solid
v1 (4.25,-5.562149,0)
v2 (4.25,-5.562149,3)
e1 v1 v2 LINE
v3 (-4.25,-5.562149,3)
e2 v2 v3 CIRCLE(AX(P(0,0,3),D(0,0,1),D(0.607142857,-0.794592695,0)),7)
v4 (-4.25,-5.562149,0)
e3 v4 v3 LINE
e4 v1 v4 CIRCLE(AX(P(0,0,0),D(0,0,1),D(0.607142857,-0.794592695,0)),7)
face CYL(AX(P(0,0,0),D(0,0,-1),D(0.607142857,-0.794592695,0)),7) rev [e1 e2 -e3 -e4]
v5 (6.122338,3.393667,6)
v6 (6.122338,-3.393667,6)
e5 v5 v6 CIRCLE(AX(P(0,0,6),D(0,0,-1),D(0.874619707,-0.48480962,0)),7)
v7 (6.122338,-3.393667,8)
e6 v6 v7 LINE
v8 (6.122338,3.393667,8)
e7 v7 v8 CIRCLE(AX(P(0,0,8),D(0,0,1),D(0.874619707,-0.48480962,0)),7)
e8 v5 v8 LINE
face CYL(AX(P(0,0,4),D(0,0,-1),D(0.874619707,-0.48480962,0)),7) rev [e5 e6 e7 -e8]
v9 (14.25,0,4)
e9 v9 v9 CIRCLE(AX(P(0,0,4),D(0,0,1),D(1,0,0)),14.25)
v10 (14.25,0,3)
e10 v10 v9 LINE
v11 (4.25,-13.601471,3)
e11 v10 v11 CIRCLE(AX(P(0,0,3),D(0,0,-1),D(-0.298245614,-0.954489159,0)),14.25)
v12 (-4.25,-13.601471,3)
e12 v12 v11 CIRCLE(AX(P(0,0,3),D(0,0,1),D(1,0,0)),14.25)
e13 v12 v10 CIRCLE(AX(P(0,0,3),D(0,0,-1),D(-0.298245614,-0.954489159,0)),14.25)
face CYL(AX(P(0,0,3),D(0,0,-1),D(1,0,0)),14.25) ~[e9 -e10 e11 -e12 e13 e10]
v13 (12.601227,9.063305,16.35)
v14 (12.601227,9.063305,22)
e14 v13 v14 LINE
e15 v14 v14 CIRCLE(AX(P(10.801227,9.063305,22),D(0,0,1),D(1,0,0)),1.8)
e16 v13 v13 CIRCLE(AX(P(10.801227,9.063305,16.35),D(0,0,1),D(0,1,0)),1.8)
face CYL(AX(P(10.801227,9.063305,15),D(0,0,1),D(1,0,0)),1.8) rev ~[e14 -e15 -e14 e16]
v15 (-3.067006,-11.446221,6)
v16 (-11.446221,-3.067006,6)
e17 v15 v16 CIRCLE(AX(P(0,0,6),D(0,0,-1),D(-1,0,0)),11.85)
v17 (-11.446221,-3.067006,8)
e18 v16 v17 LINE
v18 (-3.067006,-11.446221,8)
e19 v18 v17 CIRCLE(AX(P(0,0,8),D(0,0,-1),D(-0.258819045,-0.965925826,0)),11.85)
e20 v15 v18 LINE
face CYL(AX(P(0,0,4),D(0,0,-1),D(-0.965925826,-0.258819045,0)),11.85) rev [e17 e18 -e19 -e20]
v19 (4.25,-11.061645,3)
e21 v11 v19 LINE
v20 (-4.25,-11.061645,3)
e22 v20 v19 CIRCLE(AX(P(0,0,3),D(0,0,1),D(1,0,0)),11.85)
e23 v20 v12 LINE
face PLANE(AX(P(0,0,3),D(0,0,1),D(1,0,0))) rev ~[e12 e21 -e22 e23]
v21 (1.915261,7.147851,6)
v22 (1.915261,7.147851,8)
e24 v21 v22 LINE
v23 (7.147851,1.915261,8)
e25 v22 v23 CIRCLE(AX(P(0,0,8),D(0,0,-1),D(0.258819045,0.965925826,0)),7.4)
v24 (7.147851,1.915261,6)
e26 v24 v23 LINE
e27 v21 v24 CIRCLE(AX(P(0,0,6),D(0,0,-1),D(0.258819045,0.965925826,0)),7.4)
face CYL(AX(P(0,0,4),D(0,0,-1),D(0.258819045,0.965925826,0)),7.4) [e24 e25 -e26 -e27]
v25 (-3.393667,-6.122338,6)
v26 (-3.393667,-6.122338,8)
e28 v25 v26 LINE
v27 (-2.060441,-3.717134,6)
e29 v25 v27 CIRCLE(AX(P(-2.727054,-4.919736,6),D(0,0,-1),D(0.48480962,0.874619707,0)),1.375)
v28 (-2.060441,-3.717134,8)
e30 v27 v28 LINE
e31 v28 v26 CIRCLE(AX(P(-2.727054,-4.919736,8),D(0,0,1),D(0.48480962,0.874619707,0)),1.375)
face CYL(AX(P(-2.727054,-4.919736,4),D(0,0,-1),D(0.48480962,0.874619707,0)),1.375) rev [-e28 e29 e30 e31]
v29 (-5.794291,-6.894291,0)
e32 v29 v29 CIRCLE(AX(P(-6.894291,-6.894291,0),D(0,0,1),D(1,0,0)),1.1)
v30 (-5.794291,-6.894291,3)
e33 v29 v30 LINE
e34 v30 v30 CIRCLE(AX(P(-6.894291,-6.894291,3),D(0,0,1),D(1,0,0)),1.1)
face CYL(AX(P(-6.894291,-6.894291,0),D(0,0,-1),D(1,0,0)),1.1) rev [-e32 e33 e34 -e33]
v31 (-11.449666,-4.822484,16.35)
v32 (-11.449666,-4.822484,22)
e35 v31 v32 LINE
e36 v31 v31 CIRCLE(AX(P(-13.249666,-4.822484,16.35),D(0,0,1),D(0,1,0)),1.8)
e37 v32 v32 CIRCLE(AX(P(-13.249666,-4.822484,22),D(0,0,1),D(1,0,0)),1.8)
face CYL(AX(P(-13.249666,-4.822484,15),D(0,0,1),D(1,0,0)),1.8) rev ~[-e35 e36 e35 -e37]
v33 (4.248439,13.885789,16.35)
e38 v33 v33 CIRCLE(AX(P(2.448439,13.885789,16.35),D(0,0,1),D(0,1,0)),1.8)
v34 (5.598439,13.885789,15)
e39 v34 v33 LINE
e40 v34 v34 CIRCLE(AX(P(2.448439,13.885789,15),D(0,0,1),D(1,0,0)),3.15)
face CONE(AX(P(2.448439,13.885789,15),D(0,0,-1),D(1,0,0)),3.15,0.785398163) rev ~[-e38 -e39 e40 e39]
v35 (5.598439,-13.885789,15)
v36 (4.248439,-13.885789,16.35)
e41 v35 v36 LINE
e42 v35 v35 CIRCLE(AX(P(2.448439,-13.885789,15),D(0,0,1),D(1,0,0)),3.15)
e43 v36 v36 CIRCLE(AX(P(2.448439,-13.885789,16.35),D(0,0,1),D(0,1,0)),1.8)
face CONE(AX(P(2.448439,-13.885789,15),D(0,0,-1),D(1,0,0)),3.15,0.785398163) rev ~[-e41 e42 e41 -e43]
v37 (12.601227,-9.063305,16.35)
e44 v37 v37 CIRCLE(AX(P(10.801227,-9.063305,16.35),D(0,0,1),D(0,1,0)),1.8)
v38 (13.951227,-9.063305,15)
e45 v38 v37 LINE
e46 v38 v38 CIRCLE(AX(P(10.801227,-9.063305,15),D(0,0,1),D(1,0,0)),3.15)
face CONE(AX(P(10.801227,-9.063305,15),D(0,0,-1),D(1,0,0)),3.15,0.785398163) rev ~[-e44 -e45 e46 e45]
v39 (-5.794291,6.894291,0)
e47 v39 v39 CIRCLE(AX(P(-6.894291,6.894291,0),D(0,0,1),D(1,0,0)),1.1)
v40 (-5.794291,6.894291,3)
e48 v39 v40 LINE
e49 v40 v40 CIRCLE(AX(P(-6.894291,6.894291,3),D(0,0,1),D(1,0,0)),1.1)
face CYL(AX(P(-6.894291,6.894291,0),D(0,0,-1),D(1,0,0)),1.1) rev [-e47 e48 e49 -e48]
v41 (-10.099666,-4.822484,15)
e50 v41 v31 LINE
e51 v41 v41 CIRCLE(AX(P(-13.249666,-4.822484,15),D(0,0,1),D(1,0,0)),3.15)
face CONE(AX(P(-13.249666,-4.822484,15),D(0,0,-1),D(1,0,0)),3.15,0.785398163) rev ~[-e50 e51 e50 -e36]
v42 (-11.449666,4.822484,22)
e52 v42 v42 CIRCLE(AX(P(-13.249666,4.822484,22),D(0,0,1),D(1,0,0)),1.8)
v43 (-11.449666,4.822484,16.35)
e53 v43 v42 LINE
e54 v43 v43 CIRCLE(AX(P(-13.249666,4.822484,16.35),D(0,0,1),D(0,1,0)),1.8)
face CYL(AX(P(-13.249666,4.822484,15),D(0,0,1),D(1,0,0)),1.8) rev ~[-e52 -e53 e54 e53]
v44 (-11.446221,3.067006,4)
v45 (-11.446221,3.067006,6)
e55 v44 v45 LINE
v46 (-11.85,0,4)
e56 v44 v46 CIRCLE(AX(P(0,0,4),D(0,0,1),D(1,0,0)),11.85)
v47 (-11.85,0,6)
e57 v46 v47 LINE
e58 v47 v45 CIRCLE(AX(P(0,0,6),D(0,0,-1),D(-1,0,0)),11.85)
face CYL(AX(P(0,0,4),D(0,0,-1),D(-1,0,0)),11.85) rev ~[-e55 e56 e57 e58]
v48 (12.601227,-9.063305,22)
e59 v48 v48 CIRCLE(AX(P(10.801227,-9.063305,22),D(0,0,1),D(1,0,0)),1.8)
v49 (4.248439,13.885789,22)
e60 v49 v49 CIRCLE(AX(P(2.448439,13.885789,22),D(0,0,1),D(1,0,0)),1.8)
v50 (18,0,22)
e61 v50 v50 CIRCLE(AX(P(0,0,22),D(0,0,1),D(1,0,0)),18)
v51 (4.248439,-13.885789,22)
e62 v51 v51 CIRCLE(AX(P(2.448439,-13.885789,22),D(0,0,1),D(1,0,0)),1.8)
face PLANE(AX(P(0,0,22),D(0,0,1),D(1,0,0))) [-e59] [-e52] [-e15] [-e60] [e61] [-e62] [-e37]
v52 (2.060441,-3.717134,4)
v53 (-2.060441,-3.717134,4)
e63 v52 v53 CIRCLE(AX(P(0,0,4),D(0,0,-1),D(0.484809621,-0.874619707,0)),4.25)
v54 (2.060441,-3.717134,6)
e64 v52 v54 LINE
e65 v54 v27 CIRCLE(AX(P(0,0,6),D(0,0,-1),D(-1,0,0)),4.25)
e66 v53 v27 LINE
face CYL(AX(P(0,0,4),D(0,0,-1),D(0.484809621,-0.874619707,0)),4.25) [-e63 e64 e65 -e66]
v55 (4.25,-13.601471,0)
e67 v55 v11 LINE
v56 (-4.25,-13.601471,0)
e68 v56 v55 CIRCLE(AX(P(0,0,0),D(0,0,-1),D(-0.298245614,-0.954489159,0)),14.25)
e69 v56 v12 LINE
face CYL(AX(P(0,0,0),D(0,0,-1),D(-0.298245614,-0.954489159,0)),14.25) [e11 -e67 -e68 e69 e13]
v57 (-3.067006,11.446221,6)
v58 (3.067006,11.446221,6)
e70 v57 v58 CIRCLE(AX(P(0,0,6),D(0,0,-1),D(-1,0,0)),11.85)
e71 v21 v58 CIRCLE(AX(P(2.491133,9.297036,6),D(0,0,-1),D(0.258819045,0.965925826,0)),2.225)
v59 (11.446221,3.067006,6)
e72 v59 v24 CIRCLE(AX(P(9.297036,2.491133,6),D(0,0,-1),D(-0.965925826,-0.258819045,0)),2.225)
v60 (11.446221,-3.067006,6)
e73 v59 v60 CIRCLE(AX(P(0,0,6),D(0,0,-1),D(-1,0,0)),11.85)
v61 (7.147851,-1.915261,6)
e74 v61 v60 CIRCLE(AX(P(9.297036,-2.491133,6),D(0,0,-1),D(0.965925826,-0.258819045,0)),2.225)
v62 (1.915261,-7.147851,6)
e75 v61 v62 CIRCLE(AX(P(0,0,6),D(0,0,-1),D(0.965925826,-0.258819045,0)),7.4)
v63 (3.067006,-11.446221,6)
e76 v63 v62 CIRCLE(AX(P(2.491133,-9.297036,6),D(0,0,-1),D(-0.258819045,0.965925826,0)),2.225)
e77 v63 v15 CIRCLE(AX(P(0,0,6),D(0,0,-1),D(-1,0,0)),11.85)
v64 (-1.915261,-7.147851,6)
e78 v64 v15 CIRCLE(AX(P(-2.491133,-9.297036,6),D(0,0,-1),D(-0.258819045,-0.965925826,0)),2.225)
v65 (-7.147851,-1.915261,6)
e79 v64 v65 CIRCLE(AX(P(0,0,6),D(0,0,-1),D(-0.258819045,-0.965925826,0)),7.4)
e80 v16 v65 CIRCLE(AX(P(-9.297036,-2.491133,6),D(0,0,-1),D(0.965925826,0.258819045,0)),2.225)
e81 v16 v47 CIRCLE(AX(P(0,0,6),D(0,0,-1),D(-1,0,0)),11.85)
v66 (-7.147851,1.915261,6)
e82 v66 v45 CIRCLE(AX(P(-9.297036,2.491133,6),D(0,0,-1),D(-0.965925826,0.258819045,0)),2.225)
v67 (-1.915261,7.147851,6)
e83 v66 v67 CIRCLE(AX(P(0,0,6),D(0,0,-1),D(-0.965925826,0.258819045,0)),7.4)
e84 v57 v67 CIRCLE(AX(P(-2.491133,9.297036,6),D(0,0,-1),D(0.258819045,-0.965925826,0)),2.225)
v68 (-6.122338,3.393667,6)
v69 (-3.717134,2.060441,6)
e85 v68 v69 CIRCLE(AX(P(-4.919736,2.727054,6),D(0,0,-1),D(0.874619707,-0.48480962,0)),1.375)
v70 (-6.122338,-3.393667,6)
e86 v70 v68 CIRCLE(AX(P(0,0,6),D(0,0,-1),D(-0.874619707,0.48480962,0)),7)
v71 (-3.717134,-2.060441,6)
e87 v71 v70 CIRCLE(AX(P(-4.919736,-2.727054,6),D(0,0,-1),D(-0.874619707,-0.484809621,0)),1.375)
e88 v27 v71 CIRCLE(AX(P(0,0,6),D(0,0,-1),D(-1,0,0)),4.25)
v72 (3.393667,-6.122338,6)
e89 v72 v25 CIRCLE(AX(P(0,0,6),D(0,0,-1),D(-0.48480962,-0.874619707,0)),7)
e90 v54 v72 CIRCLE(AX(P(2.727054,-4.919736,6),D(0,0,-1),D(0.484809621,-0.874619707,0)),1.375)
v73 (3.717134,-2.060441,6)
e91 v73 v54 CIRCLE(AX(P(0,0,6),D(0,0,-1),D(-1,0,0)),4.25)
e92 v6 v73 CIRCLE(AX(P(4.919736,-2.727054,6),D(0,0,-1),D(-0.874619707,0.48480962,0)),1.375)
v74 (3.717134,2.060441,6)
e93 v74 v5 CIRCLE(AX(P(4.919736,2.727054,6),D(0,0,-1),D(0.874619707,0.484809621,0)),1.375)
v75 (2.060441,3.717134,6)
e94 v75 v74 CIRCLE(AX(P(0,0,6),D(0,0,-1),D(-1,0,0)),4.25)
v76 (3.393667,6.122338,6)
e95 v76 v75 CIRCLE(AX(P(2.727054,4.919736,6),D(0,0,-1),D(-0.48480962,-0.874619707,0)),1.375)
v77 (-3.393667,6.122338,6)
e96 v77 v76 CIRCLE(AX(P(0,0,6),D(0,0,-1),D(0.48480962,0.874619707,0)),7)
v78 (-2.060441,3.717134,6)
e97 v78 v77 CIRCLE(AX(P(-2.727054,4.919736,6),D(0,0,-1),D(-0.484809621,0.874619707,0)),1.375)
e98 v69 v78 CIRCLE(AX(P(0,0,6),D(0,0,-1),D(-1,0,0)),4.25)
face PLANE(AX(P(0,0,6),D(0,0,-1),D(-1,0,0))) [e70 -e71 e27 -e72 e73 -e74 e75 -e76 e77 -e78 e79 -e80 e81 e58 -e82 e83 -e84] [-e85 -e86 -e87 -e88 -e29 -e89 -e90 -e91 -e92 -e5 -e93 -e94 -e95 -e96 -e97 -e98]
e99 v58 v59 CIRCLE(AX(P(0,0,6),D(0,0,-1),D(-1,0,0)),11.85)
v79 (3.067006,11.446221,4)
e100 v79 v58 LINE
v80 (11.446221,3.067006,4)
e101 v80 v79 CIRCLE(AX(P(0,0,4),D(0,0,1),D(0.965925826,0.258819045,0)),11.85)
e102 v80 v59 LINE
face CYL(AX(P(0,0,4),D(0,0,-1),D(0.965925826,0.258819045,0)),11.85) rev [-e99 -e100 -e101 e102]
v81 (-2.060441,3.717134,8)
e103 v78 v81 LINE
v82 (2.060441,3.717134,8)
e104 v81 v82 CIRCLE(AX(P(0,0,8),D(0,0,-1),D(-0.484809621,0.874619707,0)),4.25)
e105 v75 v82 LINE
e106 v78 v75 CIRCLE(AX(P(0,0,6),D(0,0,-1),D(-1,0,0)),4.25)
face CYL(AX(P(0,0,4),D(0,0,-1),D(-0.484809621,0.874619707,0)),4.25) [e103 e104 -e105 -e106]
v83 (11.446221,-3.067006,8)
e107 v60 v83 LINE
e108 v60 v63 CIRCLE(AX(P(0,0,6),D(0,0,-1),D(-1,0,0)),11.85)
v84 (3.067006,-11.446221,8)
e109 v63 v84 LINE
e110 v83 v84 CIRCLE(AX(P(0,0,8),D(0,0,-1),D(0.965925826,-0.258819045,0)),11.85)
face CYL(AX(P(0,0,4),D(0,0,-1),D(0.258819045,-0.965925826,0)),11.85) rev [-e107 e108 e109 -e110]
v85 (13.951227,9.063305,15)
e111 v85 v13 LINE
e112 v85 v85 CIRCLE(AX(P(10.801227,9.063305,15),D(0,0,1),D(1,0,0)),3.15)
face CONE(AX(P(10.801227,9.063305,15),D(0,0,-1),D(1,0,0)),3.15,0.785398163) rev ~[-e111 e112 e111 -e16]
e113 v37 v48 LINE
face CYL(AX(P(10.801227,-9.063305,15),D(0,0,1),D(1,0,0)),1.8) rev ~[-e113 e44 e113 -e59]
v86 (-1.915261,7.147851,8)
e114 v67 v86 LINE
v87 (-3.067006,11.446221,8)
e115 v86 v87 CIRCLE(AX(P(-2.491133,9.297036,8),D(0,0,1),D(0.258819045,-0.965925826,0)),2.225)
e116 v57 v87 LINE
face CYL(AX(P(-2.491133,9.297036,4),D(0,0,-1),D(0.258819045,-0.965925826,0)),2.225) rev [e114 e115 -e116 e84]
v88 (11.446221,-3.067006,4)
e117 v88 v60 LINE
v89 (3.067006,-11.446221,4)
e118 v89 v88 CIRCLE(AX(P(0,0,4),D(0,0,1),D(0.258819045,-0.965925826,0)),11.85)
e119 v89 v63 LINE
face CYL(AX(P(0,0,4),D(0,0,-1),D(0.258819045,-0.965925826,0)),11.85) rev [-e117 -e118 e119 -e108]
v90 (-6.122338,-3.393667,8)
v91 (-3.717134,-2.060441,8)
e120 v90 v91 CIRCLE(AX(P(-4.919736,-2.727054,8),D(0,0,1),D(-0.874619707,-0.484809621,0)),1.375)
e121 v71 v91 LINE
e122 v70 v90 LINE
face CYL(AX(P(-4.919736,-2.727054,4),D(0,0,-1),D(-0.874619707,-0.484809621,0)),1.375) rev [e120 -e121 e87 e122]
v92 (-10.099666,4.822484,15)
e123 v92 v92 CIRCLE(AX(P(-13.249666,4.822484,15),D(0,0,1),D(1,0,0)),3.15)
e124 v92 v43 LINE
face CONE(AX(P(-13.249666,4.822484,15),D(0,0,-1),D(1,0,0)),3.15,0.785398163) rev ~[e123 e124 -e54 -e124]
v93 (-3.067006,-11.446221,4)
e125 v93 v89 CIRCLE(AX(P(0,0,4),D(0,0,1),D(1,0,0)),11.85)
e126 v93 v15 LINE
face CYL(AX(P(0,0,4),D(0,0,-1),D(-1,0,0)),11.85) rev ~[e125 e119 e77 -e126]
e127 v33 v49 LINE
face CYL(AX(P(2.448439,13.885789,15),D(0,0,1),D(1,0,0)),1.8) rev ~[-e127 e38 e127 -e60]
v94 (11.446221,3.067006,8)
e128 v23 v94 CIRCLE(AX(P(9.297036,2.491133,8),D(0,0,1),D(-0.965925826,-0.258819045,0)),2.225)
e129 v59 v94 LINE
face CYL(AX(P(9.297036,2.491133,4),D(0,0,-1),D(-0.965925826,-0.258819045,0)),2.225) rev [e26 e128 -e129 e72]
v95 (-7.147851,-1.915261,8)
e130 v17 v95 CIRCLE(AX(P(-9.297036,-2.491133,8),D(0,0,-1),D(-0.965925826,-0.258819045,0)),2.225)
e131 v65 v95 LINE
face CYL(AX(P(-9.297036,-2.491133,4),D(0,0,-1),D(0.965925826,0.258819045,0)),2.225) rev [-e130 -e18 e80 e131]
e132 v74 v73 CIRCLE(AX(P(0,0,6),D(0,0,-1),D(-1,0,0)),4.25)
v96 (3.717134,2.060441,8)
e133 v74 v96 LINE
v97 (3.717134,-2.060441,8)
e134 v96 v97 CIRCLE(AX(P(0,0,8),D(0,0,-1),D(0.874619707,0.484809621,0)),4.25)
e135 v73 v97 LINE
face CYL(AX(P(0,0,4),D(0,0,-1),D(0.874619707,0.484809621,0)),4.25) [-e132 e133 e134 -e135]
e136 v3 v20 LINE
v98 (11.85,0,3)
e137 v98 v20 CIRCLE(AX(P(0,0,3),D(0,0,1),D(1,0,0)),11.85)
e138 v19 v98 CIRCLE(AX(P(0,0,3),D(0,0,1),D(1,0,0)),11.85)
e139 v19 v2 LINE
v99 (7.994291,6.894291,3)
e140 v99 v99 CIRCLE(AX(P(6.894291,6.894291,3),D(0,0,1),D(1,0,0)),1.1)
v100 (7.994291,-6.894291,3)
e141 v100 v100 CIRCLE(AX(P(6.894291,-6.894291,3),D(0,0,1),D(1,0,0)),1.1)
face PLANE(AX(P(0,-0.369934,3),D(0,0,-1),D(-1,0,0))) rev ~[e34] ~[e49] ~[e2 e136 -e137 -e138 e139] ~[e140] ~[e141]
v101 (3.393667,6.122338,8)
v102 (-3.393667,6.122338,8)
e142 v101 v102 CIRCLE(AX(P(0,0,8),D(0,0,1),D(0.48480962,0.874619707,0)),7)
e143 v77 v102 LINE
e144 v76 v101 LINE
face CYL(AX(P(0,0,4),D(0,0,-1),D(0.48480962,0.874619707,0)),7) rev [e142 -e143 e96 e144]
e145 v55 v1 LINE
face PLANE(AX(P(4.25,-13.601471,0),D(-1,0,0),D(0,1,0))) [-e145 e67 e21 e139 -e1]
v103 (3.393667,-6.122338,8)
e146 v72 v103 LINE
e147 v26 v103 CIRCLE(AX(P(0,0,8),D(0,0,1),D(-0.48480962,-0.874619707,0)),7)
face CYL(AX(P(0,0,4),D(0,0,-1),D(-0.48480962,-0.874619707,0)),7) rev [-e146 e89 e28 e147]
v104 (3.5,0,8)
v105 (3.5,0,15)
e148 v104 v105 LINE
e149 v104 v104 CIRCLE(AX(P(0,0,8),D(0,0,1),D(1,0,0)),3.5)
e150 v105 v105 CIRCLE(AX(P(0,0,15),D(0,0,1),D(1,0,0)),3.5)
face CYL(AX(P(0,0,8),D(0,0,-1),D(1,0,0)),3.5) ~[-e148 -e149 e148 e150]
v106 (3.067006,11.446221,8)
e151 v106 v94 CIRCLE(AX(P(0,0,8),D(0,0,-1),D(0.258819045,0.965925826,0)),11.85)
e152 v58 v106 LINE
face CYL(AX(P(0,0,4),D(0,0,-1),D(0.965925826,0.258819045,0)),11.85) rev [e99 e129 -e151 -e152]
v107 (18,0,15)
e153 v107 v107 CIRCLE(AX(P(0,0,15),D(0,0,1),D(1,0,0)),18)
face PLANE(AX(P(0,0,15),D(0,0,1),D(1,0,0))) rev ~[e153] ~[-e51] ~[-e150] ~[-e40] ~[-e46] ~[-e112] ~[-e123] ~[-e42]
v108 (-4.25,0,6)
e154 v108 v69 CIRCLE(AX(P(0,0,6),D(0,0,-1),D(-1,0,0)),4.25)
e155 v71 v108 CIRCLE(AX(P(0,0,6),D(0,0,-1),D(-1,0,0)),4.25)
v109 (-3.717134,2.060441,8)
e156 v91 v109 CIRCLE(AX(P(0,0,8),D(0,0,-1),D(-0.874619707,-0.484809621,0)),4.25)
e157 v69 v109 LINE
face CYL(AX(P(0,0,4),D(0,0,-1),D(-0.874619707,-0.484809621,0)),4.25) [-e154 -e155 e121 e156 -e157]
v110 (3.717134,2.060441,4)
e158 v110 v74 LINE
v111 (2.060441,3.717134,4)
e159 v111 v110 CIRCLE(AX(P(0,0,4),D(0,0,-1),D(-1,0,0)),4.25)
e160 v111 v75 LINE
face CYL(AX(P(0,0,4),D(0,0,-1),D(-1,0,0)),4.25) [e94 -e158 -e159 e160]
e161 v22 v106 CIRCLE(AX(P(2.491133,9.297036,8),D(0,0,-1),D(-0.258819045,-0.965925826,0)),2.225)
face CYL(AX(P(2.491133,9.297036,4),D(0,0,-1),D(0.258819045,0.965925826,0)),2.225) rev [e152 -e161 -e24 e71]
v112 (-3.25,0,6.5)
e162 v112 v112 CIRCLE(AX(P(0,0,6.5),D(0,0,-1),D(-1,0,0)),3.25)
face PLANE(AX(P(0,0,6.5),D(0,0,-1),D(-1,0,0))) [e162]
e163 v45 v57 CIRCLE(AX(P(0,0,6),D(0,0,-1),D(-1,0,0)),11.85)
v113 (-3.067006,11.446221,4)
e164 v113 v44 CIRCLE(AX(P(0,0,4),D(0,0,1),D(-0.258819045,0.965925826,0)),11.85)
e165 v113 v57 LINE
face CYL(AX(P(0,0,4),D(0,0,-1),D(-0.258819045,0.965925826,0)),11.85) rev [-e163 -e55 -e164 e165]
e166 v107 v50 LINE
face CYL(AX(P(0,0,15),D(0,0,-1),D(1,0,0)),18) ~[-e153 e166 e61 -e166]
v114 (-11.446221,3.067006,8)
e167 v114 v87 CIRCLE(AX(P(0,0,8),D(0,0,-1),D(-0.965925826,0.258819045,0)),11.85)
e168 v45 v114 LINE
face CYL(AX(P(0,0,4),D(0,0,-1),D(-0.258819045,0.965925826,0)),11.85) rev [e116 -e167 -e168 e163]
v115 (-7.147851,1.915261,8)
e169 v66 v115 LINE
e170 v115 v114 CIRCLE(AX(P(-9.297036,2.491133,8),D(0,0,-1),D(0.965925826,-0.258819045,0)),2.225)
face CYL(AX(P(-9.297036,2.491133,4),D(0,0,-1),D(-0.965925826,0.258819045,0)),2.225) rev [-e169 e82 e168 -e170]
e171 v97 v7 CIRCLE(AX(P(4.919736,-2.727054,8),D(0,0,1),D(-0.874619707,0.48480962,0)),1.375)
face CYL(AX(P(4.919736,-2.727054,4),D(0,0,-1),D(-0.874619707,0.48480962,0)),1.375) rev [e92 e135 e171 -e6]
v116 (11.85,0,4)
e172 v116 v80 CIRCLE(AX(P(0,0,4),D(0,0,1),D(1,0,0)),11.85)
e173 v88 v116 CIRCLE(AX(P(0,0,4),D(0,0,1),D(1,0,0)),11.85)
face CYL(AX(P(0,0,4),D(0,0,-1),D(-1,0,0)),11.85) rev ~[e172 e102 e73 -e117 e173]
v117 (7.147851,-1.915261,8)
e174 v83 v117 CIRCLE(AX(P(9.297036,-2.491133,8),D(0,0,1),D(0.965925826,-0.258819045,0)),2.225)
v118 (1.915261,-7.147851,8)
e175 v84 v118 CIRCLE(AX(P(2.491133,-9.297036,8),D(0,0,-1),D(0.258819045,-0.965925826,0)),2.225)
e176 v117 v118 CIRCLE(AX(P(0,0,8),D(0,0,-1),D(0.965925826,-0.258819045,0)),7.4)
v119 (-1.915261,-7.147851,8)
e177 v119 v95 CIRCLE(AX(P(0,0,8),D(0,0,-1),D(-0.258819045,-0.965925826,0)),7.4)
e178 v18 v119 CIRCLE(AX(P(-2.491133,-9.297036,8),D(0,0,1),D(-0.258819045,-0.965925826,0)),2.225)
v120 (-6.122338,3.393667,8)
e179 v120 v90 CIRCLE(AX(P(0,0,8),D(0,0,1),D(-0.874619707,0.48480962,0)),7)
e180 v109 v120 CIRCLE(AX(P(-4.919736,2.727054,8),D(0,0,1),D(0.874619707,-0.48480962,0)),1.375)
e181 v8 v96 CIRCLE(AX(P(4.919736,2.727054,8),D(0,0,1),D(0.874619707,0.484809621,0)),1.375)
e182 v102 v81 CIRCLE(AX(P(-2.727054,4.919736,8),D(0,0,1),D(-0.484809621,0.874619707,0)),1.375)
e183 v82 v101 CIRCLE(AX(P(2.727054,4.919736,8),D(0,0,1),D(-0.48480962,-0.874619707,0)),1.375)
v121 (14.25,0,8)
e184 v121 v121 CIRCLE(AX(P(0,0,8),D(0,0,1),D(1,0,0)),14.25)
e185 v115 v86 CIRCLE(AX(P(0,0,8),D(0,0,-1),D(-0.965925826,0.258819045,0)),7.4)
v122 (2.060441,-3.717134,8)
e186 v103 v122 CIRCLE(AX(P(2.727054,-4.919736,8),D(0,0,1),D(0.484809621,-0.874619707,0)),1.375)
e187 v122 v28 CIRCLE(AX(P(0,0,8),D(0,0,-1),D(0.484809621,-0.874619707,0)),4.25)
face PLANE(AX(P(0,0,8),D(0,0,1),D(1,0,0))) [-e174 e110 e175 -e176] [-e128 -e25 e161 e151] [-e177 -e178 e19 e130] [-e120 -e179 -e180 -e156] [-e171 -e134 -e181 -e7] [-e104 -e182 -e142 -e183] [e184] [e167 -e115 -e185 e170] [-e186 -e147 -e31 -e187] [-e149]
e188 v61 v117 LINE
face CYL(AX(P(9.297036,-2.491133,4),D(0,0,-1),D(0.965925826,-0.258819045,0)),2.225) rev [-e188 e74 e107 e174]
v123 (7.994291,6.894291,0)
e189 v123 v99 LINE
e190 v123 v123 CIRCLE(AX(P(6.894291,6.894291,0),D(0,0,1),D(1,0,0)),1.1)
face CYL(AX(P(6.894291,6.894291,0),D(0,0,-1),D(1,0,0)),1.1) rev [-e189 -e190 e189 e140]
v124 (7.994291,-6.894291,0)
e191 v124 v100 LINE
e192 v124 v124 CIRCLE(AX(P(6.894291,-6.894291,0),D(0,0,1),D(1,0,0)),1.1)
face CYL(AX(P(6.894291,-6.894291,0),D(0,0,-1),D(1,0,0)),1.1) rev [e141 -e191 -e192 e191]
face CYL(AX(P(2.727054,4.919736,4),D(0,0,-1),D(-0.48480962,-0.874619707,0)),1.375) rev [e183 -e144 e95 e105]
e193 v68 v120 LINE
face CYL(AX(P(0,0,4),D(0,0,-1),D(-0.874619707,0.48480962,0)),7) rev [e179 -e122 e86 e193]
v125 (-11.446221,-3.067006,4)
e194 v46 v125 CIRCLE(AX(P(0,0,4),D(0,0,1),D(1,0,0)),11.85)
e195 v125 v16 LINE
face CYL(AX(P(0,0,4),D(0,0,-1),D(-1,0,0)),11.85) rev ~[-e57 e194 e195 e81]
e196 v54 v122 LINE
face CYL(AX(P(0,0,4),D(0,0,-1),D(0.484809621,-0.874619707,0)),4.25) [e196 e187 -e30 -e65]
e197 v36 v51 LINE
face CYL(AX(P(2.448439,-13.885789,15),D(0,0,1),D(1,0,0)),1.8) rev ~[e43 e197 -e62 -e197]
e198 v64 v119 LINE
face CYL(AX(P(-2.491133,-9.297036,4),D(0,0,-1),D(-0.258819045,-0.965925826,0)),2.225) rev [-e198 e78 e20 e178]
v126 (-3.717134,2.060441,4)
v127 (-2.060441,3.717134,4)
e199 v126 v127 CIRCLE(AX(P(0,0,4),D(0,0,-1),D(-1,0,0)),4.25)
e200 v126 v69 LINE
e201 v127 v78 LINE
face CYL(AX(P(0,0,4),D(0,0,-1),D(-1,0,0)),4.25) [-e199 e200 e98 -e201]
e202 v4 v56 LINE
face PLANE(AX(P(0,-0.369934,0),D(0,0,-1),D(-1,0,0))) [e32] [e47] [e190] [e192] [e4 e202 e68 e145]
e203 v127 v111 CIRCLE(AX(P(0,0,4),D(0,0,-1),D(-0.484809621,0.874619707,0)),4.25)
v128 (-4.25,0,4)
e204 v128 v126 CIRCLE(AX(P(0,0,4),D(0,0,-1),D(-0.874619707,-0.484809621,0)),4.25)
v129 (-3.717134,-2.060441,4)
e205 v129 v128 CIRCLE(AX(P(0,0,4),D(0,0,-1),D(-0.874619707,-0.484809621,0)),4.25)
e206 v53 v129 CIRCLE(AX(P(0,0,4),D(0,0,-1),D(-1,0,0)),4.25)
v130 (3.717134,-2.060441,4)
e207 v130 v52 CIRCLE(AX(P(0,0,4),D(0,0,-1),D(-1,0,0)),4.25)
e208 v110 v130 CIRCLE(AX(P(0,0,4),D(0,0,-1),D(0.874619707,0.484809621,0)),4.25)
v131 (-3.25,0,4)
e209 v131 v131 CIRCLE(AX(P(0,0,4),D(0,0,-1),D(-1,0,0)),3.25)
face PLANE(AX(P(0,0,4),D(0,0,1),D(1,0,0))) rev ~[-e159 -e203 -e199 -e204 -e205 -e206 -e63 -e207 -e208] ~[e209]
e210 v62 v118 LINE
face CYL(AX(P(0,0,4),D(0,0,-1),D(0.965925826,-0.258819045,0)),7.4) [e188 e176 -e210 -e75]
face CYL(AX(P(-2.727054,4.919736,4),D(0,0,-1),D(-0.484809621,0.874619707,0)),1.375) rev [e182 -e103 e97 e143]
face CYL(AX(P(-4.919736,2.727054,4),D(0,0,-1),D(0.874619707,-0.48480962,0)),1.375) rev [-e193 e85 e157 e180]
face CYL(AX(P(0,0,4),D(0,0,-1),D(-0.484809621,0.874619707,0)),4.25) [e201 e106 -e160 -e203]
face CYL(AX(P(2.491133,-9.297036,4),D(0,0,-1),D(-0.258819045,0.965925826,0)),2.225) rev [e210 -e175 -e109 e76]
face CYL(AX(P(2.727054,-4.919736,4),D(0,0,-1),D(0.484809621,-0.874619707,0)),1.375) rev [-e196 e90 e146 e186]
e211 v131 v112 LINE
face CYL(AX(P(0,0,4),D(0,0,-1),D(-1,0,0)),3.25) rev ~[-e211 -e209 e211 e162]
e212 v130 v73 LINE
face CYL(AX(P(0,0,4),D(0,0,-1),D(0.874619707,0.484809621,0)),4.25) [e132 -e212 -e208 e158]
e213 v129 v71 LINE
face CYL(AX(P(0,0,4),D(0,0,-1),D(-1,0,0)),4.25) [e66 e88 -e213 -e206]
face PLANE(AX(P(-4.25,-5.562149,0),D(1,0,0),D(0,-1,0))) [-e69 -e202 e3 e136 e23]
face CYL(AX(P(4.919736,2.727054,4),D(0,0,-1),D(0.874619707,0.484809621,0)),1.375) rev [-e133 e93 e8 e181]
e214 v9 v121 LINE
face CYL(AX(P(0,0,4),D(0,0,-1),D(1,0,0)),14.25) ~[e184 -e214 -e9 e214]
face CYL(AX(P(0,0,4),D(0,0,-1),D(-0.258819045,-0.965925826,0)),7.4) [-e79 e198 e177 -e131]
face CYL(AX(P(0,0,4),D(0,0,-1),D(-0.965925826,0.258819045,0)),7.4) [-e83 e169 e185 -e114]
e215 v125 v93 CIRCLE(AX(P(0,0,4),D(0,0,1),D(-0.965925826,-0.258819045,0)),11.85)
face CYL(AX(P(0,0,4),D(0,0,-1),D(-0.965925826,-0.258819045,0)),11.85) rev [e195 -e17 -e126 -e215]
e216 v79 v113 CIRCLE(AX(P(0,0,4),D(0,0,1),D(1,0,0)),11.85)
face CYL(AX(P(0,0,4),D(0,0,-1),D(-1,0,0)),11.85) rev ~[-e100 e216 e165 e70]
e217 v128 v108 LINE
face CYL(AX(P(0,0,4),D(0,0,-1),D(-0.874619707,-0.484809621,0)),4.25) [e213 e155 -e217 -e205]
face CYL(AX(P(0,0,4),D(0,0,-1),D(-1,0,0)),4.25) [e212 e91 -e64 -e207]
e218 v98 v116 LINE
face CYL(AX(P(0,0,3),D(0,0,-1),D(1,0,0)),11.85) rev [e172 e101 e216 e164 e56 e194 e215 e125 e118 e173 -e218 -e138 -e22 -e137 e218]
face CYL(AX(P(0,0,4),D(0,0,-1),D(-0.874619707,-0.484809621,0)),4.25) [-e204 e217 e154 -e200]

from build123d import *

# Parameters (mm, degrees)
SKETCH_1_R                   = 1.1
EXTRUDE_1_DEPTH              = 3
SKETCH_3_R                   = 14.25
SKETCH_3_R_2                 = 11.85
EXTRUDE_2_DEPTH              = 1
SKETCH_4_R                   = 14.25
EXTRUDE_3_DEPTH              = 4
SKETCH_5_R                   = 3.25
CUT_EXTRUDE_2_DEPTH          = 2.5
SKETCH_6_R                   = 3.5
EXTRUDE_4_DEPTH              = 7
SKETCH_10_R                  = 11.85
SKETCH_10_R_2                = 4.25
CUT_EXTRUDE_3_DEPTH          = 2
SKETCH_7_R                   = 18
SKETCH_7_R_2                 = 1.6
EXTRUDE_5_DEPTH              = 7
HOLE_WIZARD_M3_1_D           = 3.6
HOLE_WIZARD_M3_1_DEPTH       = 7
HOLE_WIZARD_M3_1_CSINK_D     = 6.3
HOLE_WIZARD_M3_1_CSINK_ANGLE = 90


with BuildPart() as part:
    # 스케치1 → 보스-돌출1 (new body)
    with BuildSketch(Plane.XY):
        with BuildLine():
            Line((-4.25, -5.562148865), (-4.25, -13.601470509))
            ThreePointArc((-4.25, -13.601470509), (0, 14.25), (4.25, -13.601470509))
            Line((4.25, -13.601470509), (4.25, -5.562148865))
            ThreePointArc((4.25, -5.562148865), (0, 7), (-4.25, -5.562148865))
        make_face()
        with Locations((6.894291117, 6.894291117)):
            Circle(SKETCH_1_R, mode=Mode.SUBTRACT)
        with Locations((6.894291117, -6.894291117)):
            Circle(SKETCH_1_R, mode=Mode.SUBTRACT)
        with Locations((-6.894291117, -6.894291117)):
            Circle(SKETCH_1_R, mode=Mode.SUBTRACT)
        with Locations((-6.894291117, 6.894291117)):
            Circle(SKETCH_1_R, mode=Mode.SUBTRACT)
    extrude(amount=EXTRUDE_1_DEPTH)

    # 스케치3 → 보스-돌출2 (add)
    with BuildSketch(Plane.XY.offset(3)):
        Circle(SKETCH_3_R)
        Circle(SKETCH_3_R_2, mode=Mode.SUBTRACT)
    extrude(amount=EXTRUDE_2_DEPTH)

    # 스케치4 → 보스-돌출3 (add)
    with BuildSketch(Plane.XY.offset(4)):
        Circle(SKETCH_4_R)
        with BuildLine():
            ThreePointArc((11.446221042, 3.067005684), (8.379215357, 8.379215357), (3.067005684, 11.446221042))
            ThreePointArc((3.067005684, 11.446221042), (0.341948346, 9.872908453), (1.915260934, 7.147851115))
            ThreePointArc((1.915260934, 7.147851115), (5.232590181, 5.232590181), (7.147851115, 1.915260934))
            ThreePointArc((7.147851115, 1.915260934), (9.872908453, 0.341948346), (11.446221042, 3.067005684))
        make_face(mode=Mode.SUBTRACT)
        with BuildLine():
            ThreePointArc((3.067005684, -11.446221042), (8.379215357, -8.379215357), (11.446221042, -3.067005684))
            ThreePointArc((11.446221042, -3.067005684), (9.872908453, -0.341948346), (7.147851115, -1.915260934))
            ThreePointArc((7.147851115, -1.915260934), (5.232590181, -5.232590181), (1.915260934, -7.147851115))
            ThreePointArc((1.915260934, -7.147851115), (0.341948346, -9.872908453), (3.067005684, -11.446221042))
        make_face(mode=Mode.SUBTRACT)
        with BuildLine():
            ThreePointArc((-11.446221042, -3.067005684), (-8.379215357, -8.379215357), (-3.067005684, -11.446221042))
            ThreePointArc((-3.067005684, -11.446221042), (-0.341948346, -9.872908453), (-1.915260934, -7.147851115))
            ThreePointArc((-1.915260934, -7.147851115), (-5.232590181, -5.232590181), (-7.147851115, -1.915260934))
            ThreePointArc((-7.147851115, -1.915260934), (-9.872908453, -0.341948346), (-11.446221042, -3.067005684))
        make_face(mode=Mode.SUBTRACT)
        with BuildLine():
            ThreePointArc((-3.067005684, 11.446221042), (-8.379215357, 8.379215357), (-11.446221042, 3.067005684))
            ThreePointArc((-11.446221042, 3.067005684), (-9.872908453, 0.341948346), (-7.147851115, 1.915260934))
            ThreePointArc((-7.147851115, 1.915260934), (-5.232590181, 5.232590181), (-1.915260934, 7.147851115))
            ThreePointArc((-1.915260934, 7.147851115), (-0.341948346, 9.872908453), (-3.067005684, 11.446221042))
        make_face(mode=Mode.SUBTRACT)
        with BuildLine():
            ThreePointArc((3.393667342, 6.12233795), (0, 7), (-3.393667342, 6.12233795))
            ThreePointArc((-3.393667342, 6.12233795), (-3.929656211, 4.253122625), (-2.060440886, 3.717133755))
            ThreePointArc((-2.060440886, 3.717133755), (0, 4.25), (2.060440886, 3.717133755))
            ThreePointArc((2.060440886, 3.717133755), (3.929656211, 4.253122625), (3.393667342, 6.12233795))
        make_face(mode=Mode.SUBTRACT)
        with BuildLine():
            ThreePointArc((6.12233795, -3.393667342), (7, 0), (6.12233795, 3.393667342))
            ThreePointArc((6.12233795, 3.393667342), (4.253122625, 3.929656211), (3.717133755, 2.060440886))
            ThreePointArc((3.717133755, 2.060440886), (4.25, 0), (3.717133755, -2.060440886))
            ThreePointArc((3.717133755, -2.060440886), (4.253122625, -3.929656211), (6.12233795, -3.393667342))
        make_face(mode=Mode.SUBTRACT)
        with BuildLine():
            ThreePointArc((-3.393667342, -6.12233795), (0, -7), (3.393667342, -6.12233795))
            ThreePointArc((3.393667342, -6.12233795), (3.929656211, -4.253122625), (2.060440886, -3.717133755))
            ThreePointArc((2.060440886, -3.717133755), (0, -4.25), (-2.060440886, -3.717133755))
            ThreePointArc((-2.060440886, -3.717133755), (-3.929656211, -4.253122625), (-3.393667342, -6.12233795))
        make_face(mode=Mode.SUBTRACT)
        with BuildLine():
            ThreePointArc((-6.12233795, 3.393667342), (-7, 0), (-6.12233795, -3.393667342))
            ThreePointArc((-6.12233795, -3.393667342), (-4.253122625, -3.929656211), (-3.717133755, -2.060440886))
            ThreePointArc((-3.717133755, -2.060440886), (-4.25, 0), (-3.717133755, 2.060440886))
            ThreePointArc((-3.717133755, 2.060440886), (-4.253122625, 3.929656211), (-6.12233795, 3.393667342))
        make_face(mode=Mode.SUBTRACT)
    extrude(amount=EXTRUDE_3_DEPTH)

    # 스케치5 → 컷-돌출2 (cut)
    with BuildSketch(Plane(origin=(0, 0, 4), x_dir=(-1, 0, 0), z_dir=(0, 0, -1))):
        Circle(SKETCH_5_R)
    extrude(amount=-CUT_EXTRUDE_2_DEPTH, mode=Mode.SUBTRACT)

    # 스케치6 → 보스-돌출4 (add)
    with BuildSketch(Plane.XY.offset(8)):
        Circle(SKETCH_6_R)
    extrude(amount=EXTRUDE_4_DEPTH)

    # 스케치10 → 컷-돌출3 (cut)
    with BuildSketch(Plane(origin=(0, 0, 4), x_dir=(-1, 0, 0), z_dir=(0, 0, -1))):
        Circle(SKETCH_10_R)
        Circle(SKETCH_10_R_2, mode=Mode.SUBTRACT)
    extrude(amount=-CUT_EXTRUDE_3_DEPTH, mode=Mode.SUBTRACT)

    # 스케치7 → 보스-돌출5 (add)
    with BuildSketch(Plane.XY.offset(15)):
        Circle(SKETCH_7_R)
        with Locations((-13.249665953, 4.822484021)):
            Circle(SKETCH_7_R_2, mode=Mode.SUBTRACT)
        with Locations((-13.249665953, -4.822484021)):
            Circle(SKETCH_7_R_2, mode=Mode.SUBTRACT)
        with Locations((10.801226648, 9.063305297)):
            Circle(SKETCH_7_R_2, mode=Mode.SUBTRACT)
        with Locations((2.448439305, 13.885789317)):
            Circle(SKETCH_7_R_2, mode=Mode.SUBTRACT)
        with Locations((2.448439305, -13.885789317)):
            Circle(SKETCH_7_R_2, mode=Mode.SUBTRACT)
        with Locations((10.801226648, -9.063305297)):
            Circle(SKETCH_7_R_2, mode=Mode.SUBTRACT)
    extrude(amount=EXTRUDE_5_DEPTH)

    # M3 접시 머리 나사용 카운터싱크1
    with Locations(Plane(origin=(2.448439305, 13.885789317, 15), x_dir=(-1, 0, 0), z_dir=(0, 0, -1))):
        with Locations((0, 0), (15.698105258, -9.063305296), (15.698105258, -18.708273338), (0, -27.771578634), (-8.352787343, -22.949094614), (-8.352787343, -4.82248402)):
            CounterSinkHole(HOLE_WIZARD_M3_1_D / 2, HOLE_WIZARD_M3_1_CSINK_D / 2, depth=HOLE_WIZARD_M3_1_DEPTH, counter_sink_angle=HOLE_WIZARD_M3_1_CSINK_ANGLE)


solid = part.part
